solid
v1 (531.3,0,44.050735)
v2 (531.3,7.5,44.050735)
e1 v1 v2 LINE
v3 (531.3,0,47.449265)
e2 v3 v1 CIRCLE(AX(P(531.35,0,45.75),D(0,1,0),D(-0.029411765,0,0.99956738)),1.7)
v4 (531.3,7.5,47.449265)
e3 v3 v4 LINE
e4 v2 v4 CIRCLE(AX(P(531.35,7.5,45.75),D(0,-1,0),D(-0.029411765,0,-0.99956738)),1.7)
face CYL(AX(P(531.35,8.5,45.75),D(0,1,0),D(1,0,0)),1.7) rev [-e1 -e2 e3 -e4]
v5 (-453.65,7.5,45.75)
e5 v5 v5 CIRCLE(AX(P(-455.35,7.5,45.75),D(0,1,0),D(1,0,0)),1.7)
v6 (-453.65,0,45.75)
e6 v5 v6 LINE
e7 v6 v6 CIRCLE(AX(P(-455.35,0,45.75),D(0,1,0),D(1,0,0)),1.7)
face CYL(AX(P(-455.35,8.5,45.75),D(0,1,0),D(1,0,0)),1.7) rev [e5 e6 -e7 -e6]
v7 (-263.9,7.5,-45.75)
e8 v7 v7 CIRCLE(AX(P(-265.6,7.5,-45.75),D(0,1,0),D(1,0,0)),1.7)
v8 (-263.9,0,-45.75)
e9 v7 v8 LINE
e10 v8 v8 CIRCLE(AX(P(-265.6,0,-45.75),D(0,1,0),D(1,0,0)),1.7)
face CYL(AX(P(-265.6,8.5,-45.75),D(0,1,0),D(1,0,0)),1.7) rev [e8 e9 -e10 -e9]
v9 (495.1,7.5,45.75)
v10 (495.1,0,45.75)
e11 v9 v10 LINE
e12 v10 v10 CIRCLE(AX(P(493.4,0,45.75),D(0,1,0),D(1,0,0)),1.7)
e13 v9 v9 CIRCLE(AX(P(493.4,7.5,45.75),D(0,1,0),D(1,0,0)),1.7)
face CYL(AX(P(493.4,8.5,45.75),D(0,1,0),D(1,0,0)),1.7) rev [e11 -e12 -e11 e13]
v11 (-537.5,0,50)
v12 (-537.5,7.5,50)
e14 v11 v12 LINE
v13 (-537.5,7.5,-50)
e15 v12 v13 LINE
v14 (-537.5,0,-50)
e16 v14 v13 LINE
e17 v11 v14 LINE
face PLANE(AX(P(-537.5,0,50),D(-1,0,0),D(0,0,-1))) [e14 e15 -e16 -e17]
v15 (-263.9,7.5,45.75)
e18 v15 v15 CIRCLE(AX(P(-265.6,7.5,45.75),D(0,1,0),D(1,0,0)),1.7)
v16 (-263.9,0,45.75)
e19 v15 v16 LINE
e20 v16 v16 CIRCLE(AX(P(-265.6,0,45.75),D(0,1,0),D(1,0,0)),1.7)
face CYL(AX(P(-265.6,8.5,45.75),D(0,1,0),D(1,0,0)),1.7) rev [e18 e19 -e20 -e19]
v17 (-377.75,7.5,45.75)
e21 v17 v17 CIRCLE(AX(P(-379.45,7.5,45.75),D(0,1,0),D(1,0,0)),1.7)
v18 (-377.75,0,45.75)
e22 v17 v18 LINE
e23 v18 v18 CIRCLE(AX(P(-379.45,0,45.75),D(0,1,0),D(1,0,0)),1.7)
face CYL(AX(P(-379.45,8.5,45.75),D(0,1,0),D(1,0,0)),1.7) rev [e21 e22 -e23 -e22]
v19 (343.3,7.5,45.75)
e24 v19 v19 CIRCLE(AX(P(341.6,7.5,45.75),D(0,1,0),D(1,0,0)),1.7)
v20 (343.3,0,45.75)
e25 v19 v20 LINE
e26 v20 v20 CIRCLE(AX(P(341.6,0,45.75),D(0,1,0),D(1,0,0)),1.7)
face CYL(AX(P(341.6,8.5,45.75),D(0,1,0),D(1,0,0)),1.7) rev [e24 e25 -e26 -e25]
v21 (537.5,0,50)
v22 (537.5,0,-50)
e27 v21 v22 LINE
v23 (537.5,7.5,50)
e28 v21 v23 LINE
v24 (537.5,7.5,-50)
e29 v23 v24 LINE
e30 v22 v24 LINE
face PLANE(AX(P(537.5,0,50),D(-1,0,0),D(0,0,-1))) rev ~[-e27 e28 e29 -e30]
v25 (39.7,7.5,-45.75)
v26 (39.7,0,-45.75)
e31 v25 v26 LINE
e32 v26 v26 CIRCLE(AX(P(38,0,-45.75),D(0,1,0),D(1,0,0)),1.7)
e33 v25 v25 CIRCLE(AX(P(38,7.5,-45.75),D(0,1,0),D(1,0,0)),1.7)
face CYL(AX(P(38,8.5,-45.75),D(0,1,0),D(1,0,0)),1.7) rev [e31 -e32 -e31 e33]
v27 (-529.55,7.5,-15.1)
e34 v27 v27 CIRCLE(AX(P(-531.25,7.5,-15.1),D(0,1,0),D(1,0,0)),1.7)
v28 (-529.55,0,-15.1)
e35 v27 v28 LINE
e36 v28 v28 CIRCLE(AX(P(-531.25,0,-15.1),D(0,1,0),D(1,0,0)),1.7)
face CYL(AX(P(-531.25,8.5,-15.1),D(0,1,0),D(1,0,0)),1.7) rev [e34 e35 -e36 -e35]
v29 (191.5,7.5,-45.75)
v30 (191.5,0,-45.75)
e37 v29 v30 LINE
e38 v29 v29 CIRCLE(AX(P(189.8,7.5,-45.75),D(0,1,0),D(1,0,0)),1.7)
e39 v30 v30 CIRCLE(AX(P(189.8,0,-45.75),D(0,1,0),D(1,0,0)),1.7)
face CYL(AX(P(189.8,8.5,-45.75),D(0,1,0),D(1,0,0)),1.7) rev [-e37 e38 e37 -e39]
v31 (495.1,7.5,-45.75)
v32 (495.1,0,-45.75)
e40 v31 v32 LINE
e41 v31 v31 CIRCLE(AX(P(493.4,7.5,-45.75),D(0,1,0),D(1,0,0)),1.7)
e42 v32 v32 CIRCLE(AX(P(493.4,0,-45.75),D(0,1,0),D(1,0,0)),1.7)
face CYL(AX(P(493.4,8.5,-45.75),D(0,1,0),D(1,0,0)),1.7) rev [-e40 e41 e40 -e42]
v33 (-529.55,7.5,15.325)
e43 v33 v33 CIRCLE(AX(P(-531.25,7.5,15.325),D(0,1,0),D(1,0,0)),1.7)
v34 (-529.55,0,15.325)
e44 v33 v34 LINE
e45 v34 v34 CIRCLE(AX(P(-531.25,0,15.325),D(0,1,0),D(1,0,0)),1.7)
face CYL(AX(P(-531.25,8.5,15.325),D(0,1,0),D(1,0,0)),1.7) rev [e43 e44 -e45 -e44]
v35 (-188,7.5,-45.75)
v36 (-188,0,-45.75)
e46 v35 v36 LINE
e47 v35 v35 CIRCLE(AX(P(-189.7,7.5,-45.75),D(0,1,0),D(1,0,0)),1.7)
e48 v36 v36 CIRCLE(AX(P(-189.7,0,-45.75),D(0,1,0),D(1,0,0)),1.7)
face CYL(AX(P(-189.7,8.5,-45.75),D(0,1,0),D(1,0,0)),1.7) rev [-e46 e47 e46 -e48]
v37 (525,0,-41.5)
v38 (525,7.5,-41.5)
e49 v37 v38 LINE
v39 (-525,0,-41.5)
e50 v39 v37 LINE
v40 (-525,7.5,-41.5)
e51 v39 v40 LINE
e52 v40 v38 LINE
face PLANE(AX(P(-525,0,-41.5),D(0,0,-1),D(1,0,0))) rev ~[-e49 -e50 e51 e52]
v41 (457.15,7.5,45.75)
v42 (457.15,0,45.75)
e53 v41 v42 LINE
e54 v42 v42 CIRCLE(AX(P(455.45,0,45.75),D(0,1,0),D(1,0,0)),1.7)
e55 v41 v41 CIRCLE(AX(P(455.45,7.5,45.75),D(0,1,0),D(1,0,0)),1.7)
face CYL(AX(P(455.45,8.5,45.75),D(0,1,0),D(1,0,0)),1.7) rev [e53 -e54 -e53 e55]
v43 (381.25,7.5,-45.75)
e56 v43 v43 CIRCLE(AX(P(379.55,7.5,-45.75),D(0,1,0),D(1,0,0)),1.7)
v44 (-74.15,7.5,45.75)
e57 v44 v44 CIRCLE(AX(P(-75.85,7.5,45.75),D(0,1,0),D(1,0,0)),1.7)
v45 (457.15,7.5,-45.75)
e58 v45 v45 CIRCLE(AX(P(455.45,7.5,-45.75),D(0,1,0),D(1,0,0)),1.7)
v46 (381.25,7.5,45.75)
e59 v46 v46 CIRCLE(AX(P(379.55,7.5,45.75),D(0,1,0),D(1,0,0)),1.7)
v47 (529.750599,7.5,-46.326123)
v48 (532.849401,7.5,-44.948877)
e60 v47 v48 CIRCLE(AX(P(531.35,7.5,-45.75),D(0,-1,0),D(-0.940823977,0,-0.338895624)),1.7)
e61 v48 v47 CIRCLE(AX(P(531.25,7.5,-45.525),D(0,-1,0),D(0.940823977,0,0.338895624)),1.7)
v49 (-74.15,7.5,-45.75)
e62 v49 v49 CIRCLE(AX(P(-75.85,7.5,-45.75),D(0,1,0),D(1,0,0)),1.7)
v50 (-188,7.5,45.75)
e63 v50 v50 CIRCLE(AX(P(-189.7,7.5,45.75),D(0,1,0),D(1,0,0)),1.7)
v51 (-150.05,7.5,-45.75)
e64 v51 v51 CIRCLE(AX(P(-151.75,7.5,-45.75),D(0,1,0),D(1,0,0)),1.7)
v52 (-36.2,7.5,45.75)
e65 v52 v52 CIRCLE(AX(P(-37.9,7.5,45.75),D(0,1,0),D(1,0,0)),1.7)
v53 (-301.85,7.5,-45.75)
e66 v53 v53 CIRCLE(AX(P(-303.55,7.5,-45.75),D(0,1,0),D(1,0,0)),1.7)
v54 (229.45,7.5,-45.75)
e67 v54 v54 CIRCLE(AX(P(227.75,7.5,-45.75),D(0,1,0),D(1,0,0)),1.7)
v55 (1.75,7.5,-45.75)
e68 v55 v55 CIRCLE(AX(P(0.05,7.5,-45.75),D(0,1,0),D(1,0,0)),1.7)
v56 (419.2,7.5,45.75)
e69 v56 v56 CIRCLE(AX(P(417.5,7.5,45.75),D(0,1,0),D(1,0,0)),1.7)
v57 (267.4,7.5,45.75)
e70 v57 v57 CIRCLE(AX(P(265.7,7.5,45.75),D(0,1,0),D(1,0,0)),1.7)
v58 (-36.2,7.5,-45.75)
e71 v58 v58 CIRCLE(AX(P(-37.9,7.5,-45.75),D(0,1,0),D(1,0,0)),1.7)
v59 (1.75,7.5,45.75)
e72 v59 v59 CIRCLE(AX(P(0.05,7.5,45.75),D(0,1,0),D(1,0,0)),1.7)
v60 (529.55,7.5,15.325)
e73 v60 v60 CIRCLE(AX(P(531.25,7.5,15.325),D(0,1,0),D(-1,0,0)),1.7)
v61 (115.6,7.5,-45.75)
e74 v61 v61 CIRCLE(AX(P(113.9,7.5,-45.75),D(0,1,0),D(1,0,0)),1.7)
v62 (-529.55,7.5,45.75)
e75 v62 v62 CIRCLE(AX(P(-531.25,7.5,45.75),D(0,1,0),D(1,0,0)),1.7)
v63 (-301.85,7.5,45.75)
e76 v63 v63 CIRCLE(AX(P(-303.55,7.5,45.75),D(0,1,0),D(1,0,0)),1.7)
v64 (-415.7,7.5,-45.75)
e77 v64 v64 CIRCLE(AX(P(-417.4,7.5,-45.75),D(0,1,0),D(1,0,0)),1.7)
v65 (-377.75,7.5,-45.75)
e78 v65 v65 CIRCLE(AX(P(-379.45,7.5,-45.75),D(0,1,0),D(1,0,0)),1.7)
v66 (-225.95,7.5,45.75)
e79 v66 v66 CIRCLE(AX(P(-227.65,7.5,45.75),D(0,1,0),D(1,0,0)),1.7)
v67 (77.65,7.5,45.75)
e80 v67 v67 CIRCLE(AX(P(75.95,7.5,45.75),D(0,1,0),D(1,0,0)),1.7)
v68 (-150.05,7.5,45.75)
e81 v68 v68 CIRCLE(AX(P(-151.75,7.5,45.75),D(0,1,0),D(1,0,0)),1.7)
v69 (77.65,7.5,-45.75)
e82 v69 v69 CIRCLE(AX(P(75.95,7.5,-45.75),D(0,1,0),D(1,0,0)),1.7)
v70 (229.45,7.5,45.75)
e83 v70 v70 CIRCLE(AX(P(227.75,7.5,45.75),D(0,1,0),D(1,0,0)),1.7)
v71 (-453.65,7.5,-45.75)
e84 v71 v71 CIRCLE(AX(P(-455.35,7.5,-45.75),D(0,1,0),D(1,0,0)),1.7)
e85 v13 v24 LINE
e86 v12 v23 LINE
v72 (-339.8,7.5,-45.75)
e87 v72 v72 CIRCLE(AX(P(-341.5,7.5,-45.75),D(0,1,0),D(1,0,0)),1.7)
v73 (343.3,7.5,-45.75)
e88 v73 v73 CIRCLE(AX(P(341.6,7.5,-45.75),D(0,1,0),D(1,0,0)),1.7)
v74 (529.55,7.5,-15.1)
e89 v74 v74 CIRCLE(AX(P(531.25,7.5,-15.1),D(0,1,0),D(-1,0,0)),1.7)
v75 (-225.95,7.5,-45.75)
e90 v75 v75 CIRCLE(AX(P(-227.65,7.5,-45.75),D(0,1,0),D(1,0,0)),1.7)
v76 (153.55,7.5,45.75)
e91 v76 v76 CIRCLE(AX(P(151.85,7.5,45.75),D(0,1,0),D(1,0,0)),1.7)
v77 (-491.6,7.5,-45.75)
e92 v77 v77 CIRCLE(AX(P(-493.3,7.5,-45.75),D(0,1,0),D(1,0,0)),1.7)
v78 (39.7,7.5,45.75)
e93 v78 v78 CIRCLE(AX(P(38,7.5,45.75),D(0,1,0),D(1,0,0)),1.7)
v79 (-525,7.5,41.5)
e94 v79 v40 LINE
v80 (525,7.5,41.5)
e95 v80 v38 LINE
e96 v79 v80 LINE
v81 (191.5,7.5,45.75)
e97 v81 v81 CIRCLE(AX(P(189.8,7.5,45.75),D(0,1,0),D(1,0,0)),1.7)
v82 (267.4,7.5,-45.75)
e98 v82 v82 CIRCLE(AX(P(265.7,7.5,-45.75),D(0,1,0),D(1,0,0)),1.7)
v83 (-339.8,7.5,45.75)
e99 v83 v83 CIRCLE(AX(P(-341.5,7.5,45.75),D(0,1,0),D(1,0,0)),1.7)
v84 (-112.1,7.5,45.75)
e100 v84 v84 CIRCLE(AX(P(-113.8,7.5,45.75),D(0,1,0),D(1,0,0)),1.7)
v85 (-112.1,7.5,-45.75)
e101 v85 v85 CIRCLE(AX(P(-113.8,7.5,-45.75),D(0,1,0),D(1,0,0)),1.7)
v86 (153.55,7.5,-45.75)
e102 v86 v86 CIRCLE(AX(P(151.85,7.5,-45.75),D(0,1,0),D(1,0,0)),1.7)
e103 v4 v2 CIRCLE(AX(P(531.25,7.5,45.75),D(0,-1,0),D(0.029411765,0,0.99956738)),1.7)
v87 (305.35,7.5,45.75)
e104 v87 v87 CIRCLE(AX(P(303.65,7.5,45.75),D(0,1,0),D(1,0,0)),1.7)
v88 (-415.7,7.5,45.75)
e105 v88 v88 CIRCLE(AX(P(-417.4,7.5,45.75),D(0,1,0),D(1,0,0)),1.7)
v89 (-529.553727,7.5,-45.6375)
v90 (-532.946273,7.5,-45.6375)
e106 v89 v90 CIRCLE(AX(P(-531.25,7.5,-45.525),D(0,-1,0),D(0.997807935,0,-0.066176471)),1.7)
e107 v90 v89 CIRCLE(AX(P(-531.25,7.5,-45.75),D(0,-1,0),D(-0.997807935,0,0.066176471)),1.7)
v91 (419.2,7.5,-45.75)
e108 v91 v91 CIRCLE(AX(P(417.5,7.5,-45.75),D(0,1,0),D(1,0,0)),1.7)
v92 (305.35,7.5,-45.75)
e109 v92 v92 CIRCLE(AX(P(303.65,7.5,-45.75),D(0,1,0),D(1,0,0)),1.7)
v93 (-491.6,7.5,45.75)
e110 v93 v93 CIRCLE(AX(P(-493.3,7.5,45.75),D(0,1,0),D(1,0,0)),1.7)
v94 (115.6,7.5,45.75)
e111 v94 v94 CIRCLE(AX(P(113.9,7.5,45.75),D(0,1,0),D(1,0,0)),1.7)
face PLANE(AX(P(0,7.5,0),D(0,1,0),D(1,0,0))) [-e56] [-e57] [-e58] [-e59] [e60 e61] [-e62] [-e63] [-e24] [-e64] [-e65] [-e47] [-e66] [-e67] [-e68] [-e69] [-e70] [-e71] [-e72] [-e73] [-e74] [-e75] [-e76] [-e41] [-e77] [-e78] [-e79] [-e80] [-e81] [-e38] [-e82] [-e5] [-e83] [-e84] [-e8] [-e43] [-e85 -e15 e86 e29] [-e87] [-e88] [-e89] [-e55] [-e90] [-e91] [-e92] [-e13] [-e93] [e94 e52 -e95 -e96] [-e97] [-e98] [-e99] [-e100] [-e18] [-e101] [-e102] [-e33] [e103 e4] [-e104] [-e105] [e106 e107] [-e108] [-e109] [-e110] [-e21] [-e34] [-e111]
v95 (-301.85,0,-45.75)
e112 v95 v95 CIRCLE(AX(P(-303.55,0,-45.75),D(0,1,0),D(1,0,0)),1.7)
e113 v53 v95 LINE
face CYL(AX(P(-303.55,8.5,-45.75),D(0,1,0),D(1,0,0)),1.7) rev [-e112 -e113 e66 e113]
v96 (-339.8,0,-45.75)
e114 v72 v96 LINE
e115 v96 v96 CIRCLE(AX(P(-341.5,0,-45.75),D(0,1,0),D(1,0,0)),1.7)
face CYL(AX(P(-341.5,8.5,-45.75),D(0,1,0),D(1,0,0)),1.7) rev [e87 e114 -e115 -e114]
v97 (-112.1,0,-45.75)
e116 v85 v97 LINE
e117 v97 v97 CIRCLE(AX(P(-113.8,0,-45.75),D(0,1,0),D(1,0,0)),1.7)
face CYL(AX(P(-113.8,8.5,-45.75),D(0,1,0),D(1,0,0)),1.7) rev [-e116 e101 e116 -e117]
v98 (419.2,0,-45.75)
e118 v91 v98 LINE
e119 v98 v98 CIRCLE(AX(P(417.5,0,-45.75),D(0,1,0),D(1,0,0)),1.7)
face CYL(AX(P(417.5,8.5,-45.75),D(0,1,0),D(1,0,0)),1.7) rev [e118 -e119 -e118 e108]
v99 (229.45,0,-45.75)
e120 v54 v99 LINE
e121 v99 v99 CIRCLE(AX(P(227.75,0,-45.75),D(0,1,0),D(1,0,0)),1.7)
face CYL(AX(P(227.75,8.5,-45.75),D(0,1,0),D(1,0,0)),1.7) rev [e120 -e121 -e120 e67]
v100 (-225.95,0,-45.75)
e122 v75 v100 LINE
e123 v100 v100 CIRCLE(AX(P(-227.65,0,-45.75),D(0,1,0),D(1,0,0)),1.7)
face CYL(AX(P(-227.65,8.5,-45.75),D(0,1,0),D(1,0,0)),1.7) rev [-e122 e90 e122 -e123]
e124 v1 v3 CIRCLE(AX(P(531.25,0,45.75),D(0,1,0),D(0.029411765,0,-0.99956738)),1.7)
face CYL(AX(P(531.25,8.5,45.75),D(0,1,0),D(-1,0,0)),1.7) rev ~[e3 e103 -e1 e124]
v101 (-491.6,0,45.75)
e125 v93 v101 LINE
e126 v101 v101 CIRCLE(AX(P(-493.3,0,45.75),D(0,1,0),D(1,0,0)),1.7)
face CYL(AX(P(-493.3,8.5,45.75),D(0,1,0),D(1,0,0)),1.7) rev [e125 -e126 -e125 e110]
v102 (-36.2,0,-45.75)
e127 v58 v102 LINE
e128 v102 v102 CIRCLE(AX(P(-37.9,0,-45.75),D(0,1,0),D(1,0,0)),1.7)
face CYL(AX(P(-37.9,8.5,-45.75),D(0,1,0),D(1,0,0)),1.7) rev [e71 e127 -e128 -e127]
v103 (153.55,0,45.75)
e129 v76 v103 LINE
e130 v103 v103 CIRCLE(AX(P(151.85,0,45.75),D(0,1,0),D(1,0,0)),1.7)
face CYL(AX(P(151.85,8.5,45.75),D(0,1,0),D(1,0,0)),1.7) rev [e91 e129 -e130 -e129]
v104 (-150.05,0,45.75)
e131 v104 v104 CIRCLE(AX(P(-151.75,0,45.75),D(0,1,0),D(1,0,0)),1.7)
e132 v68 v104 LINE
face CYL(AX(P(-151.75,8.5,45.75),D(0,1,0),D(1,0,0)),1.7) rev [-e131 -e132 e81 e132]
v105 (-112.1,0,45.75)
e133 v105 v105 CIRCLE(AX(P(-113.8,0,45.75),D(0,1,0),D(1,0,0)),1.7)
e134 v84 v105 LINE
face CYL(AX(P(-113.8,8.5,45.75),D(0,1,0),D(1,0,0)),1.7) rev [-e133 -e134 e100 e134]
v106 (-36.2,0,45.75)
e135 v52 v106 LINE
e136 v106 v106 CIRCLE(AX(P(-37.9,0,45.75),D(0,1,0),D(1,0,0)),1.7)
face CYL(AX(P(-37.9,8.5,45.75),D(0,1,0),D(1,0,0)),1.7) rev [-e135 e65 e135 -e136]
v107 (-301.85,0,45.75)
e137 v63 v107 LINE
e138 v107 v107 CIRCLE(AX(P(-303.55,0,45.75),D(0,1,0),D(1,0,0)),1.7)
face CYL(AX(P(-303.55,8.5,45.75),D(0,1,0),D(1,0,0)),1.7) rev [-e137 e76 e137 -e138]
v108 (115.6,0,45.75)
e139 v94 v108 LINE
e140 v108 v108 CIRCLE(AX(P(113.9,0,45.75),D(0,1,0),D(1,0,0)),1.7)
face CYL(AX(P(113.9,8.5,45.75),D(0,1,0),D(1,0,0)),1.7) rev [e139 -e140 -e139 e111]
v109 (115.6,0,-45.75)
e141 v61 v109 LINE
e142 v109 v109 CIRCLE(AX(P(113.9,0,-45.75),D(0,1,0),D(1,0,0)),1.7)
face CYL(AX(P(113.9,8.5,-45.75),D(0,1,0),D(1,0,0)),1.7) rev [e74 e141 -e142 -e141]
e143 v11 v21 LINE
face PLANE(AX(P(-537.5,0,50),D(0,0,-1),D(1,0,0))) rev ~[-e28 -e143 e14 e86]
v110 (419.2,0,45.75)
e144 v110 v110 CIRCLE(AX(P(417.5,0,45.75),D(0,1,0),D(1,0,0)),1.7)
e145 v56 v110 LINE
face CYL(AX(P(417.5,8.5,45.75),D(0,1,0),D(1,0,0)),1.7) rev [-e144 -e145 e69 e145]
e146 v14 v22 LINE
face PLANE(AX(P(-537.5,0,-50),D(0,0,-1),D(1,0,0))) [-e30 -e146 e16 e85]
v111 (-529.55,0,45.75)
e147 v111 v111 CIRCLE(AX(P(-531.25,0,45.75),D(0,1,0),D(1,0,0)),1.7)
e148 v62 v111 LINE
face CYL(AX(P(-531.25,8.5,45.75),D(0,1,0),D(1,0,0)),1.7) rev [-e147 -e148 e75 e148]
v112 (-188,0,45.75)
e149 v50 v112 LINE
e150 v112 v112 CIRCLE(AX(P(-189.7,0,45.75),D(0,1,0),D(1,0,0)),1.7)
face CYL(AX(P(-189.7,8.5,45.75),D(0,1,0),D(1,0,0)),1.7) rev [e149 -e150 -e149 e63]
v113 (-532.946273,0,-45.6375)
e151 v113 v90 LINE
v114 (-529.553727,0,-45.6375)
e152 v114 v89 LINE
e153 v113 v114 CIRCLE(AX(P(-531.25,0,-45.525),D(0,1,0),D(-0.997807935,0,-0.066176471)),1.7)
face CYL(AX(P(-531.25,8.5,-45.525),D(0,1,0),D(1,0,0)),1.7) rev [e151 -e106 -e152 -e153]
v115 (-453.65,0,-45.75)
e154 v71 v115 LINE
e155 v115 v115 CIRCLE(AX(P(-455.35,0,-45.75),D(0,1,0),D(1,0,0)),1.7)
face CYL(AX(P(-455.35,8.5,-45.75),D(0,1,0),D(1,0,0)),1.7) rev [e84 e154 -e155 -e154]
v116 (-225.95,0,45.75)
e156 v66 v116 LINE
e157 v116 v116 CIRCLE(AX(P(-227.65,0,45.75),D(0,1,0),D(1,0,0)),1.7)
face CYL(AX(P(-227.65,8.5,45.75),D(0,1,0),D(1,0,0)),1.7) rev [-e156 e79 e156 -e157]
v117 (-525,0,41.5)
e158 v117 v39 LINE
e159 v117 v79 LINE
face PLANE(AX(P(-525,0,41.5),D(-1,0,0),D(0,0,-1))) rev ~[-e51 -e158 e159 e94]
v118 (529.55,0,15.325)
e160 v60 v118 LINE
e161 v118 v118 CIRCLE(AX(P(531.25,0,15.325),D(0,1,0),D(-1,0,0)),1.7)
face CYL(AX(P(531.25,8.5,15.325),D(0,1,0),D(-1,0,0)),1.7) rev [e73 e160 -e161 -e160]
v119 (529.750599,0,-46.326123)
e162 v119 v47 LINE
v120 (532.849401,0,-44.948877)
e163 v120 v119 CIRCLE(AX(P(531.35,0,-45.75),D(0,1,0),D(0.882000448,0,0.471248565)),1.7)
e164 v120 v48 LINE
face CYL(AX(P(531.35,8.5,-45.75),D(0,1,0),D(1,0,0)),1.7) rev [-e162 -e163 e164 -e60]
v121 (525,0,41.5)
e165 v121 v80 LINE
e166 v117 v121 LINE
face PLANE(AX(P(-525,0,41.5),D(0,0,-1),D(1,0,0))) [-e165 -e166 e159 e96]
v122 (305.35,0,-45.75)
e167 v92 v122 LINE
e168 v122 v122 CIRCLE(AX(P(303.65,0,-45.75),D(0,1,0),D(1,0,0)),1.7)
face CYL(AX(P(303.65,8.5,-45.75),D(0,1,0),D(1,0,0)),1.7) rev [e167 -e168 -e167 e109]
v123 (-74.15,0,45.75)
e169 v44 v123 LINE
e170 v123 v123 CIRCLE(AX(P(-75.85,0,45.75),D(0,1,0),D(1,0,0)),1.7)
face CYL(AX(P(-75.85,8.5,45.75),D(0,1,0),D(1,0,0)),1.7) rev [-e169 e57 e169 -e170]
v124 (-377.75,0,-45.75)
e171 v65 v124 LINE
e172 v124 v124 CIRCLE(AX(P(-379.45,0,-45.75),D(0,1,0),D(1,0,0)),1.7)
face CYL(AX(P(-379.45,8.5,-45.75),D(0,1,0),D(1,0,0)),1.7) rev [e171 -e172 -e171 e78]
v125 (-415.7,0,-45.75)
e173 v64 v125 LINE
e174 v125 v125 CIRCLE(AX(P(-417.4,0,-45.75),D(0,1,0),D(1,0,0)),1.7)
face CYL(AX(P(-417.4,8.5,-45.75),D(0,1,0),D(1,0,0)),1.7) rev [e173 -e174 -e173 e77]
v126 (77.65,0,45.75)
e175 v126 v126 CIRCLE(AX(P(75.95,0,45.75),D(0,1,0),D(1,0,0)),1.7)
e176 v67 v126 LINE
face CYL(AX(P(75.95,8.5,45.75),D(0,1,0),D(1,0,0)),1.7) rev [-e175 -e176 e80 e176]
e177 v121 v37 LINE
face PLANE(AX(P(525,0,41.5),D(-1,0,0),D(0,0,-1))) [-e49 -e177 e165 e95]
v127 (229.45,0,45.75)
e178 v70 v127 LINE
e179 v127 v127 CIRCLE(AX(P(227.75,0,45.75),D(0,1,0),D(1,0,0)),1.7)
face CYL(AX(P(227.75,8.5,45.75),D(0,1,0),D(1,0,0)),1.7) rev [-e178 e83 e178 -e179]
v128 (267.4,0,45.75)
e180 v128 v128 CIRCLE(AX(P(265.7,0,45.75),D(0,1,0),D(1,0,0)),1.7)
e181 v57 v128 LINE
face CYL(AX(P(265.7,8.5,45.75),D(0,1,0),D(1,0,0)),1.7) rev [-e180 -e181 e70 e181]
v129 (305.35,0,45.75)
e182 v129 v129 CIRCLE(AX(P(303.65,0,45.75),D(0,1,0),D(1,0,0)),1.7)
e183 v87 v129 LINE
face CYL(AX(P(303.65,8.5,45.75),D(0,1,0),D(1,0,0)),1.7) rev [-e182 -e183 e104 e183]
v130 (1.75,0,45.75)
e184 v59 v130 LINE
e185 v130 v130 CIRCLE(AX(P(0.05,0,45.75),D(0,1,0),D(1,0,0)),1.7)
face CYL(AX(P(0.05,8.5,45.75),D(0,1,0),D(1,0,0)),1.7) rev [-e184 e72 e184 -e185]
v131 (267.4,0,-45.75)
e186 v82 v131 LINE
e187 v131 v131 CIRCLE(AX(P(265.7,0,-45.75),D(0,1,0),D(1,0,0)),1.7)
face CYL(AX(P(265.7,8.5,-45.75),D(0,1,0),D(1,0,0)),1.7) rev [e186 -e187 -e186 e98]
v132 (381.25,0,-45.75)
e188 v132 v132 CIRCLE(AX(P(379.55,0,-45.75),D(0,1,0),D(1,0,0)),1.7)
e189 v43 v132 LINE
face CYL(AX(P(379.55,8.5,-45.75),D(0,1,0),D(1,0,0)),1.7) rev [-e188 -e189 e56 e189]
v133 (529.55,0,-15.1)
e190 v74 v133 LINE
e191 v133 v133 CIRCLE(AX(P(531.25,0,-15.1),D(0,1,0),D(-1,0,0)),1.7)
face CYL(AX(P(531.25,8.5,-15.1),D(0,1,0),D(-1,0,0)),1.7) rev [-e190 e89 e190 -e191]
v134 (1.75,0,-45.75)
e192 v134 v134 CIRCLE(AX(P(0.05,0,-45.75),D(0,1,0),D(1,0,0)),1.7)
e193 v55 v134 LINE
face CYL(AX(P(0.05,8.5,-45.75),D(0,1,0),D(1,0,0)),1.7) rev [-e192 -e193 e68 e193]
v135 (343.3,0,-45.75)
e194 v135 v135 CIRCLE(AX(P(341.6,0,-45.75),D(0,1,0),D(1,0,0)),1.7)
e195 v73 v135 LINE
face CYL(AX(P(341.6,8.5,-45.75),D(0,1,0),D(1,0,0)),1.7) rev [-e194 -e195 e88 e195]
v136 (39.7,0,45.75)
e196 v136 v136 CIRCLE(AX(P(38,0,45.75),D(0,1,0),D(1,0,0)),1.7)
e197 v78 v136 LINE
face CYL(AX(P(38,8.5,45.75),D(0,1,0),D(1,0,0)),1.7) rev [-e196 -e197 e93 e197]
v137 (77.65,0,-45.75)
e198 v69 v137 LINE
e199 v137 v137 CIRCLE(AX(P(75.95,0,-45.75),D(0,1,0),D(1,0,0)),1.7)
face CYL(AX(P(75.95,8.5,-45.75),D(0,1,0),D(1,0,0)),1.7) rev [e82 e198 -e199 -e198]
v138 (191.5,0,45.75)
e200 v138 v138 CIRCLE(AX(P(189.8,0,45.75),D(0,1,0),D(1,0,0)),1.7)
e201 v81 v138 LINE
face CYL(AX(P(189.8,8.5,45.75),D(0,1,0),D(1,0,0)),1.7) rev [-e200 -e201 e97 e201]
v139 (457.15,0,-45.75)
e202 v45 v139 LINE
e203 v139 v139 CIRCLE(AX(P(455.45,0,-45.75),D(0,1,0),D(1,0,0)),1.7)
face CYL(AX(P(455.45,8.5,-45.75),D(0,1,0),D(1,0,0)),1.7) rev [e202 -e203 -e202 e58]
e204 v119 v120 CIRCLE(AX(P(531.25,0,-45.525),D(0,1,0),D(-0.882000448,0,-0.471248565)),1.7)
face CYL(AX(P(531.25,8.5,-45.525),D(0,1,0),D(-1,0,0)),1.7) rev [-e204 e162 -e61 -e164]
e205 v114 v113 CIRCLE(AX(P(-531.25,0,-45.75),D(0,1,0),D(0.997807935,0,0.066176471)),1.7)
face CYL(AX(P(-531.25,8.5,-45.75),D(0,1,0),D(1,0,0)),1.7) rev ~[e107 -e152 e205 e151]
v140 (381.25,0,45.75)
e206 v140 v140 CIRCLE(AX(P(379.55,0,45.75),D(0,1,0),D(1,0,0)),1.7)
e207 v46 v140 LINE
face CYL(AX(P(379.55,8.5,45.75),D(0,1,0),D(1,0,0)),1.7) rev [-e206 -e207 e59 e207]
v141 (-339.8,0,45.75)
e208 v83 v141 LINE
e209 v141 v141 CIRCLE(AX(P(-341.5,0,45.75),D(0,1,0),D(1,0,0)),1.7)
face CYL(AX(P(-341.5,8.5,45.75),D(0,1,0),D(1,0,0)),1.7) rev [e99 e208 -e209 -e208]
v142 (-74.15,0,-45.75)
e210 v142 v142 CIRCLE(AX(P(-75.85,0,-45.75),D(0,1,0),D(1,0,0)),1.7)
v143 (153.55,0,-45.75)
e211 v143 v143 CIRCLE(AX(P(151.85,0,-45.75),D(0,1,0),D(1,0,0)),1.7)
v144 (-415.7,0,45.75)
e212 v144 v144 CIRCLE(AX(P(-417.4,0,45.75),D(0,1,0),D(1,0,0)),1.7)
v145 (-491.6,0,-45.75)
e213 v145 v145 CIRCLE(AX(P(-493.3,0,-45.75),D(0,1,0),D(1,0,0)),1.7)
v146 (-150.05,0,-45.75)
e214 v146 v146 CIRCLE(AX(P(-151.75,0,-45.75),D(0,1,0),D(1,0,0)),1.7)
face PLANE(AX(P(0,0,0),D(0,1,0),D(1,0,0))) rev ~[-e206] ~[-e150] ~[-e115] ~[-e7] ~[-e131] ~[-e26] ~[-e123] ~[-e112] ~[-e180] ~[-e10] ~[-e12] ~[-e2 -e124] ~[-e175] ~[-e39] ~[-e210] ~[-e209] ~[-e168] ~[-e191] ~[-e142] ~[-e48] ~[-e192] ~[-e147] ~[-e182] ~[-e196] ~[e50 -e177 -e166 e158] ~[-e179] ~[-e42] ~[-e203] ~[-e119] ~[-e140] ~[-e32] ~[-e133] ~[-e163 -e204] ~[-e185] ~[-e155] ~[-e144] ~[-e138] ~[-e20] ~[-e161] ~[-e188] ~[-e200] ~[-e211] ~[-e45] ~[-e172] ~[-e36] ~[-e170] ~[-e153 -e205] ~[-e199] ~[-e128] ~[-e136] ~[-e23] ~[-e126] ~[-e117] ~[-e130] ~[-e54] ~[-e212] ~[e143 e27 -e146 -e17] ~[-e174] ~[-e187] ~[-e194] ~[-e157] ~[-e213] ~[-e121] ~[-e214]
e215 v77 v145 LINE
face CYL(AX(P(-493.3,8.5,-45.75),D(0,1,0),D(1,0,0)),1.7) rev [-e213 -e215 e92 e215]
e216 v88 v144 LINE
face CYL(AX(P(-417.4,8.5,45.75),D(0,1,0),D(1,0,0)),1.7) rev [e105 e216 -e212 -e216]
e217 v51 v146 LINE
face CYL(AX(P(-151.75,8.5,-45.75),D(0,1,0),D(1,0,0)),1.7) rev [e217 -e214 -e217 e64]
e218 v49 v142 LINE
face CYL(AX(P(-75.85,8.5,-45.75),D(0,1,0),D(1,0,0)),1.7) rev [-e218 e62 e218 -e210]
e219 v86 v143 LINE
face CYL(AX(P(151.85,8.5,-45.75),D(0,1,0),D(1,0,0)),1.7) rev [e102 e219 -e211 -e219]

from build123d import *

# Parameters (mm, degrees)
SKETCH2_W                = 1075
SKETCH2_H                = 100
SKETCH2_W_2              = 1050
SKETCH2_H_2              = 83
BOSS_EXTRUDE1_DEPTH      = 7.5
CUT_EXTRUDE1_START       = -8.5
SKETCH3_R                = 1.7
CUT_EXTRUDE1_DEPTH       = 9.5
LPATTERN1_COUNT          = 4
LPATTERN1_PITCH          = 30.425
LPATTERN2_COUNT          = 29
LPATTERN2_PITCH          = 37.95
MIRROR1_START            = -8.5
MIRROR1_COPY_1_SKETCH_R  = 1.7
MIRROR1_COPY_1_DEPTH     = 9.5
MIRROR1_COPY_2_SKETCH_R  = 1.7
MIRROR1_COPY_2_DEPTH     = 9.5
MIRROR1_COPY_3_SKETCH_R  = 1.7
MIRROR1_COPY_3_DEPTH     = 9.5
MIRROR1_COPY_4_SKETCH_R  = 1.7
MIRROR1_COPY_4_DEPTH     = 9.5
MIRROR1_COPY_5_SKETCH_R  = 1.7
MIRROR1_COPY_5_DEPTH     = 9.5
MIRROR1_COPY_6_SKETCH_R  = 1.7
MIRROR1_COPY_6_DEPTH     = 9.5
MIRROR1_COPY_7_SKETCH_R  = 1.7
MIRROR1_COPY_7_DEPTH     = 9.5
MIRROR1_COPY_8_SKETCH_R  = 1.7
MIRROR1_COPY_8_DEPTH     = 9.5
MIRROR1_COPY_9_SKETCH_R  = 1.7
MIRROR1_COPY_9_DEPTH     = 9.5
MIRROR1_COPY_10_SKETCH_R = 1.7
MIRROR1_COPY_10_DEPTH    = 9.5
MIRROR1_COPY_11_SKETCH_R = 1.7
MIRROR1_COPY_11_DEPTH    = 9.5
MIRROR1_COPY_12_SKETCH_R = 1.7
MIRROR1_COPY_12_DEPTH    = 9.5
MIRROR1_COPY_13_SKETCH_R = 1.7
MIRROR1_COPY_13_DEPTH    = 9.5
MIRROR1_COPY_14_SKETCH_R = 1.7
MIRROR1_COPY_14_DEPTH    = 9.5
MIRROR1_COPY_15_SKETCH_R = 1.7
MIRROR1_COPY_15_DEPTH    = 9.5
MIRROR1_COPY_16_SKETCH_R = 1.7
MIRROR1_COPY_16_DEPTH    = 9.5
MIRROR1_COPY_17_SKETCH_R = 1.7
MIRROR1_COPY_17_DEPTH    = 9.5
MIRROR1_COPY_18_SKETCH_R = 1.7
MIRROR1_COPY_18_DEPTH    = 9.5
MIRROR1_COPY_19_SKETCH_R = 1.7
MIRROR1_COPY_19_DEPTH    = 9.5
MIRROR1_COPY_20_SKETCH_R = 1.7
MIRROR1_COPY_20_DEPTH    = 9.5
MIRROR1_COPY_21_SKETCH_R = 1.7
MIRROR1_COPY_21_DEPTH    = 9.5
MIRROR1_COPY_22_SKETCH_R = 1.7
MIRROR1_COPY_22_DEPTH    = 9.5
MIRROR1_COPY_23_SKETCH_R = 1.7
MIRROR1_COPY_23_DEPTH    = 9.5
MIRROR1_COPY_24_SKETCH_R = 1.7
MIRROR1_COPY_24_DEPTH    = 9.5
MIRROR1_COPY_25_SKETCH_R = 1.7
MIRROR1_COPY_25_DEPTH    = 9.5
MIRROR1_COPY_26_SKETCH_R = 1.7
MIRROR1_COPY_26_DEPTH    = 9.5
MIRROR1_COPY_27_SKETCH_R = 1.7
MIRROR1_COPY_27_DEPTH    = 9.5
MIRROR1_COPY_28_SKETCH_R = 1.7
MIRROR1_COPY_28_DEPTH    = 9.5
MIRROR2_START            = -8.5
MIRROR2_COPY_1_SKETCH_R  = 1.7
MIRROR2_COPY_1_DEPTH     = 9.5
MIRROR2_COPY_2_SKETCH_R  = 1.7
MIRROR2_COPY_2_DEPTH     = 9.5
MIRROR2_COPY_3_SKETCH_R  = 1.7
MIRROR2_COPY_3_DEPTH     = 9.5


with BuildPart() as part:
    # Sketch2 → Boss-Extrude1 (new body)
    with BuildSketch(Plane(origin=(0, 0, 0), x_dir=(1, 0, 0), z_dir=(0, 1, 0))):
        Rectangle(SKETCH2_W, SKETCH2_H)
        Rectangle(SKETCH2_W_2, SKETCH2_H_2, mode=Mode.SUBTRACT)
    extrude(amount=BOSS_EXTRUDE1_DEPTH)

    # Sketch3 → Cut-Extrude1 (cut)
    with BuildSketch(Plane.XZ.offset(CUT_EXTRUDE1_START)):
        with Locations((-531.25, 45.75)):
            Circle(SKETCH3_R)
    cut_extrude1 = extrude(amount=CUT_EXTRUDE1_DEPTH, mode=Mode.SUBTRACT)

    # LPattern1: Cut-Extrude1 ×4
    with Locations(*[(0, 0, -i * LPATTERN1_PITCH) for i in range(1, LPATTERN1_COUNT)]):
        add(cut_extrude1, mode=Mode.SUBTRACT)

    # LPattern2: Cut-Extrude1 ×29
    with Locations(*[(i * LPATTERN2_PITCH, 0, 0) for i in range(1, LPATTERN2_COUNT)]):
        add(cut_extrude1, mode=Mode.SUBTRACT)

    # Mirror1: Cut-Extrude1 across plane
    add(cut_extrude1.mirror(Plane.XY), mode=Mode.SUBTRACT)

    # Mirror1 copy 1 sketch → Mirror1 copy 1 (cut)
    with BuildSketch(Plane(origin=(37.95, 0, 0), x_dir=(1, 0, 0), z_dir=(0, -1, 0)).offset(MIRROR1_START)):
        with Locations((-531.25, -45.75)):
            Circle(MIRROR1_COPY_1_SKETCH_R)
    extrude(amount=MIRROR1_COPY_1_DEPTH, mode=Mode.SUBTRACT)

    # Mirror1 copy 2 sketch → Mirror1 copy 2 (cut)
    with BuildSketch(Plane(origin=(75.9, 0, 0), x_dir=(1, 0, 0), z_dir=(0, -1, 0)).offset(MIRROR1_START)):
        with Locations((-531.25, -45.75)):
            Circle(MIRROR1_COPY_2_SKETCH_R)
    extrude(amount=MIRROR1_COPY_2_DEPTH, mode=Mode.SUBTRACT)

    # Mirror1 copy 3 sketch → Mirror1 copy 3 (cut)
    with BuildSketch(Plane(origin=(113.85, 0, 0), x_dir=(1, 0, 0), z_dir=(0, -1, 0)).offset(MIRROR1_START)):
        with Locations((-531.25, -45.75)):
            Circle(MIRROR1_COPY_3_SKETCH_R)
    extrude(amount=MIRROR1_COPY_3_DEPTH, mode=Mode.SUBTRACT)

    # Mirror1 copy 4 sketch → Mirror1 copy 4 (cut)
    with BuildSketch(Plane(origin=(151.8, 0, 0), x_dir=(1, 0, 0), z_dir=(0, -1, 0)).offset(MIRROR1_START)):
        with Locations((-531.25, -45.75)):
            Circle(MIRROR1_COPY_4_SKETCH_R)
    extrude(amount=MIRROR1_COPY_4_DEPTH, mode=Mode.SUBTRACT)

    # Mirror1 copy 5 sketch → Mirror1 copy 5 (cut)
    with BuildSketch(Plane(origin=(189.75, 0, 0), x_dir=(1, 0, 0), z_dir=(0, -1, 0)).offset(MIRROR1_START)):
        with Locations((-531.25, -45.75)):
            Circle(MIRROR1_COPY_5_SKETCH_R)
    extrude(amount=MIRROR1_COPY_5_DEPTH, mode=Mode.SUBTRACT)

    # Mirror1 copy 6 sketch → Mirror1 copy 6 (cut)
    with BuildSketch(Plane(origin=(227.7, 0, 0), x_dir=(1, 0, 0), z_dir=(0, -1, 0)).offset(MIRROR1_START)):
        with Locations((-531.25, -45.75)):
            Circle(MIRROR1_COPY_6_SKETCH_R)
    extrude(amount=MIRROR1_COPY_6_DEPTH, mode=Mode.SUBTRACT)

    # Mirror1 copy 7 sketch → Mirror1 copy 7 (cut)
    with BuildSketch(Plane(origin=(265.65, 0, 0), x_dir=(1, 0, 0), z_dir=(0, -1, 0)).offset(MIRROR1_START)):
        with Locations((-531.25, -45.75)):
            Circle(MIRROR1_COPY_7_SKETCH_R)
    extrude(amount=MIRROR1_COPY_7_DEPTH, mode=Mode.SUBTRACT)

    # Mirror1 copy 8 sketch → Mirror1 copy 8 (cut)
    with BuildSketch(Plane(origin=(303.6, 0, 0), x_dir=(1, 0, 0), z_dir=(0, -1, 0)).offset(MIRROR1_START)):
        with Locations((-531.25, -45.75)):
            Circle(MIRROR1_COPY_8_SKETCH_R)
    extrude(amount=MIRROR1_COPY_8_DEPTH, mode=Mode.SUBTRACT)

    # Mirror1 copy 9 sketch → Mirror1 copy 9 (cut)
    with BuildSketch(Plane(origin=(341.55, 0, 0), x_dir=(1, 0, 0), z_dir=(0, -1, 0)).offset(MIRROR1_START)):
        with Locations((-531.25, -45.75)):
            Circle(MIRROR1_COPY_9_SKETCH_R)
    extrude(amount=MIRROR1_COPY_9_DEPTH, mode=Mode.SUBTRACT)

    # Mirror1 copy 10 sketch → Mirror1 copy 10 (cut)
    with BuildSketch(Plane(origin=(379.5, 0, 0), x_dir=(1, 0, 0), z_dir=(0, -1, 0)).offset(MIRROR1_START)):
        with Locations((-531.25, -45.75)):
            Circle(MIRROR1_COPY_10_SKETCH_R)
    extrude(amount=MIRROR1_COPY_10_DEPTH, mode=Mode.SUBTRACT)

    # Mirror1 copy 11 sketch → Mirror1 copy 11 (cut)
    with BuildSketch(Plane(origin=(417.45, 0, 0), x_dir=(1, 0, 0), z_dir=(0, -1, 0)).offset(MIRROR1_START)):
        with Locations((-531.25, -45.75)):
            Circle(MIRROR1_COPY_11_SKETCH_R)
    extrude(amount=MIRROR1_COPY_11_DEPTH, mode=Mode.SUBTRACT)

    # Mirror1 copy 12 sketch → Mirror1 copy 12 (cut)
    with BuildSketch(Plane(origin=(455.4, 0, 0), x_dir=(1, 0, 0), z_dir=(0, -1, 0)).offset(MIRROR1_START)):
        with Locations((-531.25, -45.75)):
            Circle(MIRROR1_COPY_12_SKETCH_R)
    extrude(amount=MIRROR1_COPY_12_DEPTH, mode=Mode.SUBTRACT)

    # Mirror1 copy 13 sketch → Mirror1 copy 13 (cut)
    with BuildSketch(Plane(origin=(493.35, 0, 0), x_dir=(1, 0, 0), z_dir=(0, -1, 0)).offset(MIRROR1_START)):
        with Locations((-531.25, -45.75)):
            Circle(MIRROR1_COPY_13_SKETCH_R)
    extrude(amount=MIRROR1_COPY_13_DEPTH, mode=Mode.SUBTRACT)

    # Mirror1 copy 14 sketch → Mirror1 copy 14 (cut)
    with BuildSketch(Plane(origin=(531.3, 0, 0), x_dir=(1, 0, 0), z_dir=(0, -1, 0)).offset(MIRROR1_START)):
        with Locations((-531.25, -45.75)):
            Circle(MIRROR1_COPY_14_SKETCH_R)
    extrude(amount=MIRROR1_COPY_14_DEPTH, mode=Mode.SUBTRACT)

    # Mirror1 copy 15 sketch → Mirror1 copy 15 (cut)
    with BuildSketch(Plane(origin=(569.25, 0, 0), x_dir=(1, 0, 0), z_dir=(0, -1, 0)).offset(MIRROR1_START)):
        with Locations((-531.25, -45.75)):
            Circle(MIRROR1_COPY_15_SKETCH_R)
    extrude(amount=MIRROR1_COPY_15_DEPTH, mode=Mode.SUBTRACT)

    # Mirror1 copy 16 sketch → Mirror1 copy 16 (cut)
    with BuildSketch(Plane(origin=(607.2, 0, 0), x_dir=(1, 0, 0), z_dir=(0, -1, 0)).offset(MIRROR1_START)):
        with Locations((-531.25, -45.75)):
            Circle(MIRROR1_COPY_16_SKETCH_R)
    extrude(amount=MIRROR1_COPY_16_DEPTH, mode=Mode.SUBTRACT)

    # Mirror1 copy 17 sketch → Mirror1 copy 17 (cut)
    with BuildSketch(Plane(origin=(645.15, 0, 0), x_dir=(1, 0, 0), z_dir=(0, -1, 0)).offset(MIRROR1_START)):
        with Locations((-531.25, -45.75)):
            Circle(MIRROR1_COPY_17_SKETCH_R)
    extrude(amount=MIRROR1_COPY_17_DEPTH, mode=Mode.SUBTRACT)

    # Mirror1 copy 18 sketch → Mirror1 copy 18 (cut)
    with BuildSketch(Plane(origin=(683.1, 0, 0), x_dir=(1, 0, 0), z_dir=(0, -1, 0)).offset(MIRROR1_START)):
        with Locations((-531.25, -45.75)):
            Circle(MIRROR1_COPY_18_SKETCH_R)
    extrude(amount=MIRROR1_COPY_18_DEPTH, mode=Mode.SUBTRACT)

    # Mirror1 copy 19 sketch → Mirror1 copy 19 (cut)
    with BuildSketch(Plane(origin=(721.05, 0, 0), x_dir=(1, 0, 0), z_dir=(0, -1, 0)).offset(MIRROR1_START)):
        with Locations((-531.25, -45.75)):
            Circle(MIRROR1_COPY_19_SKETCH_R)
    extrude(amount=MIRROR1_COPY_19_DEPTH, mode=Mode.SUBTRACT)

    # Mirror1 copy 20 sketch → Mirror1 copy 20 (cut)
    with BuildSketch(Plane(origin=(759, 0, 0), x_dir=(1, 0, 0), z_dir=(0, -1, 0)).offset(MIRROR1_START)):
        with Locations((-531.25, -45.75)):
            Circle(MIRROR1_COPY_20_SKETCH_R)
    extrude(amount=MIRROR1_COPY_20_DEPTH, mode=Mode.SUBTRACT)

    # Mirror1 copy 21 sketch → Mirror1 copy 21 (cut)
    with BuildSketch(Plane(origin=(796.95, 0, 0), x_dir=(1, 0, 0), z_dir=(0, -1, 0)).offset(MIRROR1_START)):
        with Locations((-531.25, -45.75)):
            Circle(MIRROR1_COPY_21_SKETCH_R)
    extrude(amount=MIRROR1_COPY_21_DEPTH, mode=Mode.SUBTRACT)

    # Mirror1 copy 22 sketch → Mirror1 copy 22 (cut)
    with BuildSketch(Plane(origin=(834.9, 0, 0), x_dir=(1, 0, 0), z_dir=(0, -1, 0)).offset(MIRROR1_START)):
        with Locations((-531.25, -45.75)):
            Circle(MIRROR1_COPY_22_SKETCH_R)
    extrude(amount=MIRROR1_COPY_22_DEPTH, mode=Mode.SUBTRACT)

    # Mirror1 copy 23 sketch → Mirror1 copy 23 (cut)
    with BuildSketch(Plane(origin=(872.85, 0, 0), x_dir=(1, 0, 0), z_dir=(0, -1, 0)).offset(MIRROR1_START)):
        with Locations((-531.25, -45.75)):
            Circle(MIRROR1_COPY_23_SKETCH_R)
    extrude(amount=MIRROR1_COPY_23_DEPTH, mode=Mode.SUBTRACT)

    # Mirror1 copy 24 sketch → Mirror1 copy 24 (cut)
    with BuildSketch(Plane(origin=(910.8, 0, 0), x_dir=(1, 0, 0), z_dir=(0, -1, 0)).offset(MIRROR1_START)):
        with Locations((-531.25, -45.75)):
            Circle(MIRROR1_COPY_24_SKETCH_R)
    extrude(amount=MIRROR1_COPY_24_DEPTH, mode=Mode.SUBTRACT)

    # Mirror1 copy 25 sketch → Mirror1 copy 25 (cut)
    with BuildSketch(Plane(origin=(948.75, 0, 0), x_dir=(1, 0, 0), z_dir=(0, -1, 0)).offset(MIRROR1_START)):
        with Locations((-531.25, -45.75)):
            Circle(MIRROR1_COPY_25_SKETCH_R)
    extrude(amount=MIRROR1_COPY_25_DEPTH, mode=Mode.SUBTRACT)

    # Mirror1 copy 26 sketch → Mirror1 copy 26 (cut)
    with BuildSketch(Plane(origin=(986.7, 0, 0), x_dir=(1, 0, 0), z_dir=(0, -1, 0)).offset(MIRROR1_START)):
        with Locations((-531.25, -45.75)):
            Circle(MIRROR1_COPY_26_SKETCH_R)
    extrude(amount=MIRROR1_COPY_26_DEPTH, mode=Mode.SUBTRACT)

    # Mirror1 copy 27 sketch → Mirror1 copy 27 (cut)
    with BuildSketch(Plane(origin=(1024.65, 0, 0), x_dir=(1, 0, 0), z_dir=(0, -1, 0)).offset(MIRROR1_START)):
        with Locations((-531.25, -45.75)):
            Circle(MIRROR1_COPY_27_SKETCH_R)
    extrude(amount=MIRROR1_COPY_27_DEPTH, mode=Mode.SUBTRACT)

    # Mirror1 copy 28 sketch → Mirror1 copy 28 (cut)
    with BuildSketch(Plane(origin=(1062.6, 0, 0), x_dir=(1, 0, 0), z_dir=(0, -1, 0)).offset(MIRROR1_START)):
        with Locations((-531.25, -45.75)):
            Circle(MIRROR1_COPY_28_SKETCH_R)
    extrude(amount=MIRROR1_COPY_28_DEPTH, mode=Mode.SUBTRACT)

    # Mirror2: Cut-Extrude1 across plane
    add(cut_extrude1.mirror(Plane(origin=(0, 0, 0), x_dir=(0, 0, 1), z_dir=(1, 0, 0))), mode=Mode.SUBTRACT)

    # Mirror2 copy 1 sketch → Mirror2 copy 1 (cut)
    with BuildSketch(Plane(origin=(0, 0, -30.425), x_dir=(-1, 0, 0), z_dir=(0, -1, 0)).offset(MIRROR2_START)):
        with Locations((-531.25, -45.75)):
            Circle(MIRROR2_COPY_1_SKETCH_R)
    extrude(amount=MIRROR2_COPY_1_DEPTH, mode=Mode.SUBTRACT)

    # Mirror2 copy 2 sketch → Mirror2 copy 2 (cut)
    with BuildSketch(Plane(origin=(0, 0, -60.85), x_dir=(-1, 0, 0), z_dir=(0, -1, 0)).offset(MIRROR2_START)):
        with Locations((-531.25, -45.75)):
            Circle(MIRROR2_COPY_2_SKETCH_R)
    extrude(amount=MIRROR2_COPY_2_DEPTH, mode=Mode.SUBTRACT)

    # Mirror2 copy 3 sketch → Mirror2 copy 3 (cut)
    with BuildSketch(Plane(origin=(0, 0, -91.275), x_dir=(-1, 0, 0), z_dir=(0, -1, 0)).offset(MIRROR2_START)):
        with Locations((-531.25, -45.75)):
            Circle(MIRROR2_COPY_3_SKETCH_R)
    extrude(amount=MIRROR2_COPY_3_DEPTH, mode=Mode.SUBTRACT)


solid = part.part
